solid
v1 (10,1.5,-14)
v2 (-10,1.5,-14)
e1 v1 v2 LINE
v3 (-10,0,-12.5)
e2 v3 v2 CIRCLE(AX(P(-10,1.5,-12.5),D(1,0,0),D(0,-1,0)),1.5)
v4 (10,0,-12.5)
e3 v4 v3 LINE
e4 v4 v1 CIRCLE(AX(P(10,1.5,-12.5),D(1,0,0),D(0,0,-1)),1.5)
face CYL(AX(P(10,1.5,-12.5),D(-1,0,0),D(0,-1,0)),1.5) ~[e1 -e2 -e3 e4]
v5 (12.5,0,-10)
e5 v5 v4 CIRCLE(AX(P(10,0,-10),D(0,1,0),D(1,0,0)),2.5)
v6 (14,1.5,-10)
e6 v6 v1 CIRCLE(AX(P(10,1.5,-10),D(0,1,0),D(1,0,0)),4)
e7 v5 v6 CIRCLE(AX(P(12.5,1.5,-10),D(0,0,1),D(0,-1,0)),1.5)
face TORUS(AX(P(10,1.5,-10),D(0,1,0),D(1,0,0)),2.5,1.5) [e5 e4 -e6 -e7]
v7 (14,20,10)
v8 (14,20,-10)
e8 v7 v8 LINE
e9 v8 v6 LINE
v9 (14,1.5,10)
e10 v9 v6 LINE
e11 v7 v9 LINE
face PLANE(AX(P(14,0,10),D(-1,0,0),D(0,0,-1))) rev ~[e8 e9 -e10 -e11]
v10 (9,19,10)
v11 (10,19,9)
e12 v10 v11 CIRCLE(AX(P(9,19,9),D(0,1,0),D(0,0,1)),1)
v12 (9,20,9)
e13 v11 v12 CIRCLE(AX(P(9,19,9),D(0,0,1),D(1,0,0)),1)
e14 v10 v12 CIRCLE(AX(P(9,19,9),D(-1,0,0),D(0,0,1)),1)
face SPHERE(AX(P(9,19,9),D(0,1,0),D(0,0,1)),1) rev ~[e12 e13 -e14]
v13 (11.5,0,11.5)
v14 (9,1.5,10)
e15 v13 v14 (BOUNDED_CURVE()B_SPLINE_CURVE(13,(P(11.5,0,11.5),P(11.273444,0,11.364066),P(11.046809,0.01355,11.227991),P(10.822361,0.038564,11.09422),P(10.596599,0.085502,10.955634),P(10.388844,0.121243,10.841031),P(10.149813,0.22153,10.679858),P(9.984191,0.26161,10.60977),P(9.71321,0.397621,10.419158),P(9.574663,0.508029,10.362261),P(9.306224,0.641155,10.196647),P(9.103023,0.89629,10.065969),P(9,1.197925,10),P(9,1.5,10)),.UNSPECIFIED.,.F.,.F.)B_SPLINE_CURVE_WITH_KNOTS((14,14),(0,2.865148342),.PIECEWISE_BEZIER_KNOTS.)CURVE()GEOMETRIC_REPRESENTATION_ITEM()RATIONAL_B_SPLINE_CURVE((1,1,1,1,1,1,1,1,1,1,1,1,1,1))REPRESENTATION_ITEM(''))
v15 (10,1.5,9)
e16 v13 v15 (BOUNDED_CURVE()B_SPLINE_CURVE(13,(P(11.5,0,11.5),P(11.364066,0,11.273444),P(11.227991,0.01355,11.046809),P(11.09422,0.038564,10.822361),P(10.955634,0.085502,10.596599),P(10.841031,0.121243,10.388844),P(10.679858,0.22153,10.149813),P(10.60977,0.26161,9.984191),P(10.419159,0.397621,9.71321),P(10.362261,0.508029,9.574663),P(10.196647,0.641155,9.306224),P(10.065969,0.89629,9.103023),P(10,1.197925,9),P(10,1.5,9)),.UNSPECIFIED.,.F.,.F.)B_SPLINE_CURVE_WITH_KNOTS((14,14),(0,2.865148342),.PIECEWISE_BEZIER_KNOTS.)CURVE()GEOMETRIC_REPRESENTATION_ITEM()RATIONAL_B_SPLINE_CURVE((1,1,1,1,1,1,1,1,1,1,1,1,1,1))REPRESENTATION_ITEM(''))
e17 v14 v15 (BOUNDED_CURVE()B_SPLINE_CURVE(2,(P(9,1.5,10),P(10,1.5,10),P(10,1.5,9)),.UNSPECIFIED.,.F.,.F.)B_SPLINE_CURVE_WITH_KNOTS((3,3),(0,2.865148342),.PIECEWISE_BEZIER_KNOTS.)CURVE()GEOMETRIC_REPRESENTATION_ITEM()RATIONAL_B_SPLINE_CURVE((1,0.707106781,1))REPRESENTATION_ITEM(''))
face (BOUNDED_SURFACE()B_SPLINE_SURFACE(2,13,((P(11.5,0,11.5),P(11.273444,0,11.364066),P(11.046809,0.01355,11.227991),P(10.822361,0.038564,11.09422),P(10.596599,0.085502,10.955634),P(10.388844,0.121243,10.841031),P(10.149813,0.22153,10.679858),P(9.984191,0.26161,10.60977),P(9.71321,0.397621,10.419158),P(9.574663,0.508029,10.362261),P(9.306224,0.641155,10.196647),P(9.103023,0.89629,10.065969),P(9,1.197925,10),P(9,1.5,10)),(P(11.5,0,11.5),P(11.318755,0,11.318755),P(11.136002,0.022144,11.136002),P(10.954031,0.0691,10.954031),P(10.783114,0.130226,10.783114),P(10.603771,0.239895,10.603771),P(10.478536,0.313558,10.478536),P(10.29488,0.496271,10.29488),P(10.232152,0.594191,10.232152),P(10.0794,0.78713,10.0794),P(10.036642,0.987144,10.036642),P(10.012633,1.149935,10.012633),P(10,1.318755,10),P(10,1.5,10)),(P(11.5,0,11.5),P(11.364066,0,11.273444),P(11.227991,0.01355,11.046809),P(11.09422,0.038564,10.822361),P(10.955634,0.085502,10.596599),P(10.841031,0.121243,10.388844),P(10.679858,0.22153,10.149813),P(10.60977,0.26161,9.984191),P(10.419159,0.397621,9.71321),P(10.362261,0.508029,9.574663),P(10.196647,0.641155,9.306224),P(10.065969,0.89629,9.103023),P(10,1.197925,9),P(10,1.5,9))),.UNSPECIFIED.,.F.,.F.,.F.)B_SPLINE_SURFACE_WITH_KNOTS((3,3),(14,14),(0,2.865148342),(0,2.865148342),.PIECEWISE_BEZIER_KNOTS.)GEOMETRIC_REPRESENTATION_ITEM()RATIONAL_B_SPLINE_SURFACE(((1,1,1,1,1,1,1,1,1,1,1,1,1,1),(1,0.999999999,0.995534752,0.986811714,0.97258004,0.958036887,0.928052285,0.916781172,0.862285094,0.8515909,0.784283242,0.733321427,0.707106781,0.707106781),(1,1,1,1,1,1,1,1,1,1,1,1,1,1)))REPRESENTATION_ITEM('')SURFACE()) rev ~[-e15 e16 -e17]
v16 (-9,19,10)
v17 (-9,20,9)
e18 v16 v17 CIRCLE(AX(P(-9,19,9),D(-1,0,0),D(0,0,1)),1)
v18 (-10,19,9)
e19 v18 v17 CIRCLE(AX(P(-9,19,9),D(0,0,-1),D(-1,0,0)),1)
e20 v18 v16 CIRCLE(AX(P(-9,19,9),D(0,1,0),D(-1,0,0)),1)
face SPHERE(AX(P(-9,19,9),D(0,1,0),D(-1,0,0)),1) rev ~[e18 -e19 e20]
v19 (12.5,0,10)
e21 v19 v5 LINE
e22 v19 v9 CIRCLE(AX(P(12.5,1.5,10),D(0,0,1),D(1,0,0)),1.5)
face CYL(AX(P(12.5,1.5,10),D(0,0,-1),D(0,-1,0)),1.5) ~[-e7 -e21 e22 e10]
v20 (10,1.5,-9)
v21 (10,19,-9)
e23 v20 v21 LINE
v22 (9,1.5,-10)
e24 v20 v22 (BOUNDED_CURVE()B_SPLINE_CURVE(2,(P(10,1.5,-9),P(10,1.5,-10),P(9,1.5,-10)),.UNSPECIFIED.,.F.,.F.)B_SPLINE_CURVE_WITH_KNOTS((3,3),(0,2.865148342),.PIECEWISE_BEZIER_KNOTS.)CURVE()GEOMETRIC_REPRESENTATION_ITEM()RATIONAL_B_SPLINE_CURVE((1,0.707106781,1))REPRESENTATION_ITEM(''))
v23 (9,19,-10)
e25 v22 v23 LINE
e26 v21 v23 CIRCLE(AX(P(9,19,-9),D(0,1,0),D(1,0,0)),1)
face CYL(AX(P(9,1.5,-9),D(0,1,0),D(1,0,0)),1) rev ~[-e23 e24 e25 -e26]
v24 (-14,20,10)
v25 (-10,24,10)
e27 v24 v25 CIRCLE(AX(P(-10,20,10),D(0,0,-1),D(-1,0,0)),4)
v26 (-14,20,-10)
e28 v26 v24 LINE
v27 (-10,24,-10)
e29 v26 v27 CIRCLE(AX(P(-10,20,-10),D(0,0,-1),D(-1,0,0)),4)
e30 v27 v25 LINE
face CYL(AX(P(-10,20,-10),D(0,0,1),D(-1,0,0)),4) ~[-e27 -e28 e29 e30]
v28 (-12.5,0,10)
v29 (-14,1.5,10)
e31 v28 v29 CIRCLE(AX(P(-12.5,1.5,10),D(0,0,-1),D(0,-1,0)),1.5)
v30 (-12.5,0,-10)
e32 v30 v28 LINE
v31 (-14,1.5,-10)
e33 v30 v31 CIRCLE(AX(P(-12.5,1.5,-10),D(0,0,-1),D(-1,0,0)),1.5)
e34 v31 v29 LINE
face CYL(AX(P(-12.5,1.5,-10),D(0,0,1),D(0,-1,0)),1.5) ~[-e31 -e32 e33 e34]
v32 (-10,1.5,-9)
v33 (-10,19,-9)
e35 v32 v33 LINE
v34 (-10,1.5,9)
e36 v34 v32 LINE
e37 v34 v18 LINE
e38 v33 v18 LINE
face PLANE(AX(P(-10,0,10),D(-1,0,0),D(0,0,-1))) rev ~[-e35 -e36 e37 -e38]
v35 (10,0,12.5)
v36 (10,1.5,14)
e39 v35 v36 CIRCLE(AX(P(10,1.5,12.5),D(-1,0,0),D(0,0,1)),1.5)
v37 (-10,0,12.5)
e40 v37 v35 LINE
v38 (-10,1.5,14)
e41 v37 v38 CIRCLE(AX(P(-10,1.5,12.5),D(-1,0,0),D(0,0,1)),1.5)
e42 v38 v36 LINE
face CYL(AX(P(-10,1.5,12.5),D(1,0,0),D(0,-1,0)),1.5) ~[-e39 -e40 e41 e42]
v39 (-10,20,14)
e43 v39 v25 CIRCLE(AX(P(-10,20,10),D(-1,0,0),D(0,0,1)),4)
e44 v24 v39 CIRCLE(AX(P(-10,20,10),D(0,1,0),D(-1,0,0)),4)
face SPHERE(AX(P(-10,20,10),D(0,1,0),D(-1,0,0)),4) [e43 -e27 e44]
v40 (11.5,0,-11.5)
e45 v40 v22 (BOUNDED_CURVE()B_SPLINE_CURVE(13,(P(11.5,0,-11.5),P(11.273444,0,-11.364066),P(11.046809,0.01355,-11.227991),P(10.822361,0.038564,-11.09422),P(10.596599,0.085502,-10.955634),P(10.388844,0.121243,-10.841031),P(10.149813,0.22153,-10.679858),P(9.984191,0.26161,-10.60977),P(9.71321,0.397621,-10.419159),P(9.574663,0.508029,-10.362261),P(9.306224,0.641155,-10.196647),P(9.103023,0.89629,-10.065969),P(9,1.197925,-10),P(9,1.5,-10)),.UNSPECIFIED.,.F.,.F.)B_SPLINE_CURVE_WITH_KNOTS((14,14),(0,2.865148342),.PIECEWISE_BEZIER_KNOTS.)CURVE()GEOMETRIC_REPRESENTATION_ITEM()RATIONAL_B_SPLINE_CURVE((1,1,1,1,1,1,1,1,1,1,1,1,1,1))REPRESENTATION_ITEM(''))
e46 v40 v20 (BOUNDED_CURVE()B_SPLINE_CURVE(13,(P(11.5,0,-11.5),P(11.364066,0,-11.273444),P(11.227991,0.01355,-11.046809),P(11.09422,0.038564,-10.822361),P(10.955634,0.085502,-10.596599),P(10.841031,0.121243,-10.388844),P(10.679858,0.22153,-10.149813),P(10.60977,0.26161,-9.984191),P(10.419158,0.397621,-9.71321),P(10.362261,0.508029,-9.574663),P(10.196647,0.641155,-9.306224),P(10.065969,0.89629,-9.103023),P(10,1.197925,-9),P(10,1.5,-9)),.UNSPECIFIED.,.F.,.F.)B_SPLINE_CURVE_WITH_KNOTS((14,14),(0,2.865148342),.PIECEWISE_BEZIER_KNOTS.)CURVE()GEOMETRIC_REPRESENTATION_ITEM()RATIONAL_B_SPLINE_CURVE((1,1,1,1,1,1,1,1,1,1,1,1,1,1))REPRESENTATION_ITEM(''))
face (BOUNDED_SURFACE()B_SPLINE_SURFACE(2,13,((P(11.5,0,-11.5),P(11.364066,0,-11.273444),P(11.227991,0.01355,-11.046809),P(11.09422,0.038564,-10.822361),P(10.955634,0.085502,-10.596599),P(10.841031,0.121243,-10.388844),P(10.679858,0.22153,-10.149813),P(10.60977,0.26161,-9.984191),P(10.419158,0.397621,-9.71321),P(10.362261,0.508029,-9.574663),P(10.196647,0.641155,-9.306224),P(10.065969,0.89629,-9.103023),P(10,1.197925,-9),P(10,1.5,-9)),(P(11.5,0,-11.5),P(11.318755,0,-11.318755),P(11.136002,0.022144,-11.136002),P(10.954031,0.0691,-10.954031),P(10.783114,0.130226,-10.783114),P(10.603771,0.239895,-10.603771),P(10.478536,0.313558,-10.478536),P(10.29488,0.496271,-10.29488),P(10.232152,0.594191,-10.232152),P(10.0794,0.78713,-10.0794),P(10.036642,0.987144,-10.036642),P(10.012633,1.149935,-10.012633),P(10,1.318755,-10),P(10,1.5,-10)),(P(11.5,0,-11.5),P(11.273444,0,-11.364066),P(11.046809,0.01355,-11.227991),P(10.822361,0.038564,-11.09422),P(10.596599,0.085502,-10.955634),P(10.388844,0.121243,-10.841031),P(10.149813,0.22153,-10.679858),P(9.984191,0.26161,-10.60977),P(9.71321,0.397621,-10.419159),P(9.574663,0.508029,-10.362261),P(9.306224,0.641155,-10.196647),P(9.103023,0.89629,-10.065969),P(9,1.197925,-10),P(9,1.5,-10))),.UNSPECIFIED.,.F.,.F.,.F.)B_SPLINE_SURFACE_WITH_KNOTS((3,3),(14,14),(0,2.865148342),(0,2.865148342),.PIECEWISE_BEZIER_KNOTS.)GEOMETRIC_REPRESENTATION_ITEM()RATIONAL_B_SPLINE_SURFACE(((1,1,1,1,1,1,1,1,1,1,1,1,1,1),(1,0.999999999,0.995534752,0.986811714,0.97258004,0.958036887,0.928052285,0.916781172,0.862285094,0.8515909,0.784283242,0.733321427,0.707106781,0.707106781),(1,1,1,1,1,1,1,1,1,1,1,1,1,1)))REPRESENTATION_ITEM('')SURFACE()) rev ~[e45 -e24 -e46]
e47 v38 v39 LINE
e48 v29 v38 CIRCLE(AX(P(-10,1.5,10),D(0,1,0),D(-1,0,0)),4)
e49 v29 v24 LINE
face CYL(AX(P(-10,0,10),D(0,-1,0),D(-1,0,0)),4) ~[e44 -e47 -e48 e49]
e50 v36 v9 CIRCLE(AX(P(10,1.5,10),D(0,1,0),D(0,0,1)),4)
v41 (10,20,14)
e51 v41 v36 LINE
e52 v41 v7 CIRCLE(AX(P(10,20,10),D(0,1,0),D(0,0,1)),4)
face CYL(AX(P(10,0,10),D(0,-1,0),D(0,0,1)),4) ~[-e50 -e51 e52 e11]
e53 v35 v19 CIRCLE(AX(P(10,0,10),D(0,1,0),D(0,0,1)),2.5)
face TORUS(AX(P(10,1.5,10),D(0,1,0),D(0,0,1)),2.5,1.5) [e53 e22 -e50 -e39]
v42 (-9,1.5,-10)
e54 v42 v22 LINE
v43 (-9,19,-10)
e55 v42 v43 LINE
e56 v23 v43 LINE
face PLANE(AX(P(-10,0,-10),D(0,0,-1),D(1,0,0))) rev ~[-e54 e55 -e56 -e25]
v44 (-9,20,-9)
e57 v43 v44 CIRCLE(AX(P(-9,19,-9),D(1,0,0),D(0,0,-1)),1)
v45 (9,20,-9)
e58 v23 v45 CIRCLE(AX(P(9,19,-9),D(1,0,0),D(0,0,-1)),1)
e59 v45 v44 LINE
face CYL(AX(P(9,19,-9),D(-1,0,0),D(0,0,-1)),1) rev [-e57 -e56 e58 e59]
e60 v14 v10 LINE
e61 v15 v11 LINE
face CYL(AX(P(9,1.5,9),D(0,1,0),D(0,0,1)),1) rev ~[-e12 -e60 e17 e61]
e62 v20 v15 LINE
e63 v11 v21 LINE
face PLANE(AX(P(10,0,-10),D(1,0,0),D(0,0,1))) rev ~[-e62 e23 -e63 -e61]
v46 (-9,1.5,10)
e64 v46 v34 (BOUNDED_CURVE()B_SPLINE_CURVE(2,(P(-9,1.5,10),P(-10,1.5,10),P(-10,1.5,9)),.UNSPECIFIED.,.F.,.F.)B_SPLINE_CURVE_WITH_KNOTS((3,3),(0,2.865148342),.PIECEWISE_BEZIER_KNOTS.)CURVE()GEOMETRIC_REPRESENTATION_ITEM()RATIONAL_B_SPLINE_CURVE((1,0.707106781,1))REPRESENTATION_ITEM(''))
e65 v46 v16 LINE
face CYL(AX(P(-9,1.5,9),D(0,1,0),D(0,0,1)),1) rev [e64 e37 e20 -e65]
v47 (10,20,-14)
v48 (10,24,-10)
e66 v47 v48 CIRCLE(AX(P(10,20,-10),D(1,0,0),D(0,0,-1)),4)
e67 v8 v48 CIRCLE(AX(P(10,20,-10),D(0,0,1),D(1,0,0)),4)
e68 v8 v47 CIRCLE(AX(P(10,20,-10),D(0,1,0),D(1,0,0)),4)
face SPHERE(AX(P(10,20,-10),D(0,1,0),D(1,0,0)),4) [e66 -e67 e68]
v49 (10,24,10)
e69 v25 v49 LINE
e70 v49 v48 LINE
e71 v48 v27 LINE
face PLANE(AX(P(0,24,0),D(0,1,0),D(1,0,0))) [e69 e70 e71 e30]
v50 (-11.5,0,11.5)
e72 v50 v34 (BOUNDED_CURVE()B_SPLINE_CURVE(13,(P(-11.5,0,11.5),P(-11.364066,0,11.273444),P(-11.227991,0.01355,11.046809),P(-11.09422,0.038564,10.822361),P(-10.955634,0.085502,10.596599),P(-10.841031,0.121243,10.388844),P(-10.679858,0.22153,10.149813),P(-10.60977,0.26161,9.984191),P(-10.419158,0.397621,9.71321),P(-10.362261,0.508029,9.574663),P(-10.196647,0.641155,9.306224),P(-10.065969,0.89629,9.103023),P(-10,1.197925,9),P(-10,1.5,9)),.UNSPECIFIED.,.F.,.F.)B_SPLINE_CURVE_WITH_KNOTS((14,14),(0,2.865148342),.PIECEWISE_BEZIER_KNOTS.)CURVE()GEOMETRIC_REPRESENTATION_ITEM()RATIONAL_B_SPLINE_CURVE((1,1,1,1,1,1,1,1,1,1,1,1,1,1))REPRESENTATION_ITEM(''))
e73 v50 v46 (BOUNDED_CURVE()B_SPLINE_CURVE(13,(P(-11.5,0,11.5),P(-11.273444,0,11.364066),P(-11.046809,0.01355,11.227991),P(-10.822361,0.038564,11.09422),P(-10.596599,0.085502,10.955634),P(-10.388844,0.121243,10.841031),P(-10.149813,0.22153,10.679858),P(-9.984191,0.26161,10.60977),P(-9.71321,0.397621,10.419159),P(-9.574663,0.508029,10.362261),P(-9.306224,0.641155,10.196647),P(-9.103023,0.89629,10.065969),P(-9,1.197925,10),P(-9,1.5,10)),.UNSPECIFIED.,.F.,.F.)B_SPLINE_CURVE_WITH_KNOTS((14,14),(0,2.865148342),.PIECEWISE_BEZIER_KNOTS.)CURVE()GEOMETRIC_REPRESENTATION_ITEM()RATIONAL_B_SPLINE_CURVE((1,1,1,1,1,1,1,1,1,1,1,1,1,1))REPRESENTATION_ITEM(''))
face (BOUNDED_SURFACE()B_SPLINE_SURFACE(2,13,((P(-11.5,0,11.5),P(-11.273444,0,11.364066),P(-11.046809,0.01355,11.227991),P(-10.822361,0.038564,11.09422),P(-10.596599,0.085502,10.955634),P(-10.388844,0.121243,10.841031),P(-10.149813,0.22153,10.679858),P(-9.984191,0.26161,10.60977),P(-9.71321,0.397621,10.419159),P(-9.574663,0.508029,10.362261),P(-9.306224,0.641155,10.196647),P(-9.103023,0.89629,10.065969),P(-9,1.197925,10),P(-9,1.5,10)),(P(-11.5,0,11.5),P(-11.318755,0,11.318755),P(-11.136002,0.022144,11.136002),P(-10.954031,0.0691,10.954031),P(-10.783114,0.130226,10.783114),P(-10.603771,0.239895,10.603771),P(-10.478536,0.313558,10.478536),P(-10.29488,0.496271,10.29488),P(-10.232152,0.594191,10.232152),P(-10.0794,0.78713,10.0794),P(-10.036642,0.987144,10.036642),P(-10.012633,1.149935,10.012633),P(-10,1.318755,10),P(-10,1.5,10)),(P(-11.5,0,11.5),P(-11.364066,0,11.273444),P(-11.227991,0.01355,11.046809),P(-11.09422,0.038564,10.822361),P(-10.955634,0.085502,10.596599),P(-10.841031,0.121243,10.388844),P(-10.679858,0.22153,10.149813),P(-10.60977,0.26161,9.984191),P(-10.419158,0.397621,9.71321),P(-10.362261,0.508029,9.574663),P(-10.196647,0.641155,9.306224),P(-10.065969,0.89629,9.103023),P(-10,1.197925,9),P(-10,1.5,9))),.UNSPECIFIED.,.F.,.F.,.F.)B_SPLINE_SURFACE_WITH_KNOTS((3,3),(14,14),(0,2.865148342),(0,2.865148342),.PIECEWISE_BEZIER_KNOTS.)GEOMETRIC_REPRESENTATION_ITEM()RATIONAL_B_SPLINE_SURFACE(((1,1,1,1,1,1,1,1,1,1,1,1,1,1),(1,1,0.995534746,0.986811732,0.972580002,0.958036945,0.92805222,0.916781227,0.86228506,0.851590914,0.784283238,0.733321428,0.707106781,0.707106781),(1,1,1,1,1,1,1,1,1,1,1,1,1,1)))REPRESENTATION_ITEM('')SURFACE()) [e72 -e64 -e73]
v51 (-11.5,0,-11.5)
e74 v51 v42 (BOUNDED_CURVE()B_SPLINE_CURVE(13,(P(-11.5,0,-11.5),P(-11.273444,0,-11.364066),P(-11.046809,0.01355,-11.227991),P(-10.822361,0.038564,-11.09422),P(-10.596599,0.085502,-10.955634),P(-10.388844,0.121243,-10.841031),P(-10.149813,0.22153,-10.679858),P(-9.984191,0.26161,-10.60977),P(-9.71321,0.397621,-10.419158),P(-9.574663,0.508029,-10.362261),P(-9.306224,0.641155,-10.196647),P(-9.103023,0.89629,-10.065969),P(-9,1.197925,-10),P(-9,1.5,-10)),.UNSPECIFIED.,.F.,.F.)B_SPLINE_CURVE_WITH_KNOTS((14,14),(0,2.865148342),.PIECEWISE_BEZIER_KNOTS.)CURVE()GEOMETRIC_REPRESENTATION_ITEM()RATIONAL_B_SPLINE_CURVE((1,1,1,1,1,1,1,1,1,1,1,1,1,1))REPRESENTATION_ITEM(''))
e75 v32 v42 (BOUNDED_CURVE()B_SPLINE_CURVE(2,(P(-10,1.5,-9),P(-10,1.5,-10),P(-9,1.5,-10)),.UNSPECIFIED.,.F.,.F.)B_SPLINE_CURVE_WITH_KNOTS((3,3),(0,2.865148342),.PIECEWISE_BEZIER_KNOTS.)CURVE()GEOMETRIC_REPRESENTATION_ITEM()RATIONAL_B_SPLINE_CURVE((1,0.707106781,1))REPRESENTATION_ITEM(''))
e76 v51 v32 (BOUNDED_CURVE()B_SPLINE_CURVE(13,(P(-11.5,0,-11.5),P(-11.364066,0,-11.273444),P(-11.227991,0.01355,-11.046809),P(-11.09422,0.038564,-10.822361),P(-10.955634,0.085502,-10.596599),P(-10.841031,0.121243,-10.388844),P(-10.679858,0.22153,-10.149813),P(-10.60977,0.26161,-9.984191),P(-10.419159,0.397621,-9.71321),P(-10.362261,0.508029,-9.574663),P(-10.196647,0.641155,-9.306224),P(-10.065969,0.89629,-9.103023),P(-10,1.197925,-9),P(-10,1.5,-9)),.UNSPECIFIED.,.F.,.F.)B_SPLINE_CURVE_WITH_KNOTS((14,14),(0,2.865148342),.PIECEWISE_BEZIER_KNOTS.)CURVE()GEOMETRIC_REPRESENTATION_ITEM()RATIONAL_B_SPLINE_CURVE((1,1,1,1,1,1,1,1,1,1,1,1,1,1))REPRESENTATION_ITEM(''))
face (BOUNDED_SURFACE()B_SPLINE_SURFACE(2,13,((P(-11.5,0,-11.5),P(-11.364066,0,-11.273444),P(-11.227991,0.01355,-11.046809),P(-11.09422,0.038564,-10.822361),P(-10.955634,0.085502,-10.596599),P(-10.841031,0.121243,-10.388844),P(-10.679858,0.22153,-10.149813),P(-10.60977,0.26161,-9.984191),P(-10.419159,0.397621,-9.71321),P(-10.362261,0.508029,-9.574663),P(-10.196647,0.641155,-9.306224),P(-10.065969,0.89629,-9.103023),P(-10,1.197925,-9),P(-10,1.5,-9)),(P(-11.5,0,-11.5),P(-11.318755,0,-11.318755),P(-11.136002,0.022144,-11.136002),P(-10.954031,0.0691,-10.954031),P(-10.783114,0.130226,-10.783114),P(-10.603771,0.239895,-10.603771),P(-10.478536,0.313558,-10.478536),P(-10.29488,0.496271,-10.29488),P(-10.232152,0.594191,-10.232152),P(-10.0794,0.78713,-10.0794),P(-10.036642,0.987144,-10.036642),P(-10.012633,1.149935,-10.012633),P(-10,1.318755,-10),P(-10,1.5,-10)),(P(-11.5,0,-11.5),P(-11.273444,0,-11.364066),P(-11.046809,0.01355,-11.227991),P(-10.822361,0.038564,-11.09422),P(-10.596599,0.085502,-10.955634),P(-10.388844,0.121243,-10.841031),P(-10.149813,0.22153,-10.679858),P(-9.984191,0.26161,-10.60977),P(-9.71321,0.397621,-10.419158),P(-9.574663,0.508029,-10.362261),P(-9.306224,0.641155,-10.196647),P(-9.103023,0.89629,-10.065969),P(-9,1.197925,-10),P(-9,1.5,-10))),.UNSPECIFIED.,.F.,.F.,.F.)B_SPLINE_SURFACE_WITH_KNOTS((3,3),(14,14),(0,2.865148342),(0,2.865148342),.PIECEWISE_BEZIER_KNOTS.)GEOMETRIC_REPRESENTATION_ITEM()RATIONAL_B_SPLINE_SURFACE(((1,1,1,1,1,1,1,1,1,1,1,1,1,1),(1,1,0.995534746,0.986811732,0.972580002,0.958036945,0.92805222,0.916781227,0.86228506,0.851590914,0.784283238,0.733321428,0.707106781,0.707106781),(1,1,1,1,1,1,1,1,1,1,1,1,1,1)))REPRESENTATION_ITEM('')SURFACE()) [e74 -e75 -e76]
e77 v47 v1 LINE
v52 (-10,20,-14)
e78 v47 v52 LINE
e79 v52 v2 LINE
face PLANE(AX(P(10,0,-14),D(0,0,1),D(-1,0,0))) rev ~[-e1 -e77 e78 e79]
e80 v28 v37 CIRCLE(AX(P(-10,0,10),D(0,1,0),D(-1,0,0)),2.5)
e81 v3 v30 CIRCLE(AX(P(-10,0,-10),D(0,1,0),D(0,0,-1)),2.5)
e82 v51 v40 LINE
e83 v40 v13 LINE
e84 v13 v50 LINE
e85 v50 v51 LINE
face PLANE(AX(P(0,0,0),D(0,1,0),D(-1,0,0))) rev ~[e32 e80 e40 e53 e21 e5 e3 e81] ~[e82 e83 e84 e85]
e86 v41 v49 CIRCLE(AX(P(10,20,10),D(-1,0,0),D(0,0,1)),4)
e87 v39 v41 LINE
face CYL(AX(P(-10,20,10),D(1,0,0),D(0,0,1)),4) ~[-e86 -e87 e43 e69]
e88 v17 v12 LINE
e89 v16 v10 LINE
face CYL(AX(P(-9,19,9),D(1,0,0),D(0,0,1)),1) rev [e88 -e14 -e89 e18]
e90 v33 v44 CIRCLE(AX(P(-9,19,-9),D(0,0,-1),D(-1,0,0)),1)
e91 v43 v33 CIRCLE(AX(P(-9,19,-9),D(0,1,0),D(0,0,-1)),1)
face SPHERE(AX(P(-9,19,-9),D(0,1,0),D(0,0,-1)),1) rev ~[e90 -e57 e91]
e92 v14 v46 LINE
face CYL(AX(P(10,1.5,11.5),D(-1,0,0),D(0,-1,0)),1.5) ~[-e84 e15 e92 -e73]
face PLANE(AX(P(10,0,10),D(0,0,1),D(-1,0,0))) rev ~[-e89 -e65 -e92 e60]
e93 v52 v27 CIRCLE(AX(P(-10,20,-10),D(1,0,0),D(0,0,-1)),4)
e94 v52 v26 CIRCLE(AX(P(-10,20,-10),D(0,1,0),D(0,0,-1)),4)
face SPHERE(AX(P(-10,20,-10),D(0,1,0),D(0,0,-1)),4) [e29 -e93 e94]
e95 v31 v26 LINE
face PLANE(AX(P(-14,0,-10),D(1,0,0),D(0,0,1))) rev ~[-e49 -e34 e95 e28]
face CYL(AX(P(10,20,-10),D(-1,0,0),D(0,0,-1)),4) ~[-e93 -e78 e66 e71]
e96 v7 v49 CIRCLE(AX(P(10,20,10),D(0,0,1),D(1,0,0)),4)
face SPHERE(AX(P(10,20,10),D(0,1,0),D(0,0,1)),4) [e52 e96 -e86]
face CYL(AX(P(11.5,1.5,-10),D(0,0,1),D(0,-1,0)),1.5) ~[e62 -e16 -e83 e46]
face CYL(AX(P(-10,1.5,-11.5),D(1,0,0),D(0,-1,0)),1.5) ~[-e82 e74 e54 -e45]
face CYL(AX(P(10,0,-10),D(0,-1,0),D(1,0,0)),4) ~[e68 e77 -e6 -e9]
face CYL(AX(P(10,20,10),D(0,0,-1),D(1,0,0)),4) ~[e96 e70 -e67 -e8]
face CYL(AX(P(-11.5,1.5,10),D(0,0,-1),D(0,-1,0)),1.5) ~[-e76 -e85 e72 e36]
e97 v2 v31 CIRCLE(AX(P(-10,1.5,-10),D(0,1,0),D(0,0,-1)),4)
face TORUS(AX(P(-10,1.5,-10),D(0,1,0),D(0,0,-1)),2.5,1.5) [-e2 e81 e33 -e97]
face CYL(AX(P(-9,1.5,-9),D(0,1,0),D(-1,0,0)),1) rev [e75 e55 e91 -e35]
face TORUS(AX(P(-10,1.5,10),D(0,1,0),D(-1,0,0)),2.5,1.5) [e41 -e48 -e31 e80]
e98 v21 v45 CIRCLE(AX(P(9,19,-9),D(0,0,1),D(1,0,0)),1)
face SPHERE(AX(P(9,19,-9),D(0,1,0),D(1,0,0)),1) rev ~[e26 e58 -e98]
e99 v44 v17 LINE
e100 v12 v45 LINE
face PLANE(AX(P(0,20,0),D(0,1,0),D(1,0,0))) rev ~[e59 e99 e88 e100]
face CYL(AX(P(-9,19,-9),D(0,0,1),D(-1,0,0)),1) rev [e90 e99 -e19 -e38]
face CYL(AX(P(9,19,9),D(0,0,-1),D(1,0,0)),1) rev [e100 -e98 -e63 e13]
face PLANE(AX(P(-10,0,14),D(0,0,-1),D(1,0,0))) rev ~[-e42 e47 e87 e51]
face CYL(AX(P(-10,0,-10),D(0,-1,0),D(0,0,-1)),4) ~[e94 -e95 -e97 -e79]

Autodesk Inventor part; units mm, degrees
ref_plane "YZ Plane" through (0, 0, 0) normal (1, 0, 0) x (0, 1, 0)
ref_plane "XZ Plane" through (0, 0, 0) normal (0, 1, 0) x (-1, 0, 0)
ref_plane "XY Plane" through (0, 0, 0) normal (0, 0, 1) x (1, 0, 0)
sketch "Sketch1" plane through (0, 0, 0) normal (0, 1, 0) x (-1, 0, 0)
  line L0 (-10, 10) -> (10, 10)
  line L1 (10, 10) -> (10, -10)
  line L2 (10, -10) -> (-10, -10)
  line L3 (-10, -10) -> (-10, 10)
  line L4 (-10, 10) -> (10, -10) construction
  line L5 (10, 10) -> (-10, -10) construction
  line L6 (14, -10) -> (14, 10)
  line L7 (10, 14) -> (-10, 14)
  line L8 (-14, 10) -> (-14, -10)
  line L9 (-10, -14) -> (10, -14)
  arc A0 (10, -14) -> (14, -10) centre (10, -10) ccw
  arc A1 (-14, -10) -> (-10, -14) centre (-10, -10) ccw
  arc A2 (-10, 14) -> (-14, 10) centre (-10, 10) ccw
  arc A3 (14, 10) -> (10, 14) centre (10, 10) ccw
  point P0 (0, 0)
  point P1 (14, -14)
  point P2 (14, 14)
  point P3 (-14, 14)
  point P4 (-14, -14)
  dimension "d0" = 20
  dimension "d1" = 4
  dimension "d6" = 4
extrude "Extrusion1" add sketch "Sketch1" along normal blind 20
sketch "Sketch2" plane through (0, 20, 0) normal (0, 1, 0) x (1, 0, 0)
  line L0 (-10, -14) -> (10, -14) projected
  line L1 (-14, 10) -> (-14, -10) projected
  line L2 (10, 14) -> (-10, 14) projected
  line L3 (14, -10) -> (14, 10) projected
  arc A0 (-10, 14) -> (-14, 10) centre (-10, 10) ccw projected
  arc A1 (-14, -10) -> (-10, -14) centre (-10, -10) ccw projected
  arc A2 (10, -14) -> (14, -10) centre (10, -10) ccw projected
  arc A3 (14, 10) -> (10, 14) centre (10, 10) ccw projected
  point P0 (0, 0)
  point P1 (-13, -13)
  point P2 (13, -13)
  point P3 (-13, 13)
  point P4 (13, 13)
extrude "Extrusion2" add sketch "Sketch2" along normal blind 4
fillet "Fillet1" radius 4 8 edges at (12.8284, 24, 12.8284) (14, 24, 0) (12.8284, 24, -12.8284) (0, 24, -14) (-12.8284, 24, -12.8284) (-14, 24, 0) (-12.8284, 24, 12.8284) (0, 24, 14)
fillet "Fillet2" radius 1.5 12 edges at (12.8284, 0, 12.8284) (14, 0, 0) (12.8284, 0, -12.8284) (0, 0, -14) (-12.8284, 0, -12.8284) (-14, 0, 0) (-12.8284, 0, 12.8284) (0, 0, 14) (0, 0, 10) (10, 0, 0) (0, 0, -10) (-10, 0, 0)
fillet "Fillet3" radius 1 8 edges at (10, 10.75, 10) (10.4393, 0.4393, 10.4393) (10, 10.75, -10) (10.4393, 0.4393, -10.4393) (-10, 10.75, -10) (-10.4393, 0.4393, -10.4393) (-10, 10.75, 10) (-10.4393, 0.4393, 10.4393)
fillet "Fillet4" radius 1 8 edges at (9.7071, 20, 9.7071) (0, 20, 10) (-9.7071, 20, 9.7071) (-10, 20, 0) (-9.7071, 20, -9.7071) (0, 20, -10) (9.7071, 20, -9.7071) (10, 20, 0)
properties part number "Cap_3DPrint"
